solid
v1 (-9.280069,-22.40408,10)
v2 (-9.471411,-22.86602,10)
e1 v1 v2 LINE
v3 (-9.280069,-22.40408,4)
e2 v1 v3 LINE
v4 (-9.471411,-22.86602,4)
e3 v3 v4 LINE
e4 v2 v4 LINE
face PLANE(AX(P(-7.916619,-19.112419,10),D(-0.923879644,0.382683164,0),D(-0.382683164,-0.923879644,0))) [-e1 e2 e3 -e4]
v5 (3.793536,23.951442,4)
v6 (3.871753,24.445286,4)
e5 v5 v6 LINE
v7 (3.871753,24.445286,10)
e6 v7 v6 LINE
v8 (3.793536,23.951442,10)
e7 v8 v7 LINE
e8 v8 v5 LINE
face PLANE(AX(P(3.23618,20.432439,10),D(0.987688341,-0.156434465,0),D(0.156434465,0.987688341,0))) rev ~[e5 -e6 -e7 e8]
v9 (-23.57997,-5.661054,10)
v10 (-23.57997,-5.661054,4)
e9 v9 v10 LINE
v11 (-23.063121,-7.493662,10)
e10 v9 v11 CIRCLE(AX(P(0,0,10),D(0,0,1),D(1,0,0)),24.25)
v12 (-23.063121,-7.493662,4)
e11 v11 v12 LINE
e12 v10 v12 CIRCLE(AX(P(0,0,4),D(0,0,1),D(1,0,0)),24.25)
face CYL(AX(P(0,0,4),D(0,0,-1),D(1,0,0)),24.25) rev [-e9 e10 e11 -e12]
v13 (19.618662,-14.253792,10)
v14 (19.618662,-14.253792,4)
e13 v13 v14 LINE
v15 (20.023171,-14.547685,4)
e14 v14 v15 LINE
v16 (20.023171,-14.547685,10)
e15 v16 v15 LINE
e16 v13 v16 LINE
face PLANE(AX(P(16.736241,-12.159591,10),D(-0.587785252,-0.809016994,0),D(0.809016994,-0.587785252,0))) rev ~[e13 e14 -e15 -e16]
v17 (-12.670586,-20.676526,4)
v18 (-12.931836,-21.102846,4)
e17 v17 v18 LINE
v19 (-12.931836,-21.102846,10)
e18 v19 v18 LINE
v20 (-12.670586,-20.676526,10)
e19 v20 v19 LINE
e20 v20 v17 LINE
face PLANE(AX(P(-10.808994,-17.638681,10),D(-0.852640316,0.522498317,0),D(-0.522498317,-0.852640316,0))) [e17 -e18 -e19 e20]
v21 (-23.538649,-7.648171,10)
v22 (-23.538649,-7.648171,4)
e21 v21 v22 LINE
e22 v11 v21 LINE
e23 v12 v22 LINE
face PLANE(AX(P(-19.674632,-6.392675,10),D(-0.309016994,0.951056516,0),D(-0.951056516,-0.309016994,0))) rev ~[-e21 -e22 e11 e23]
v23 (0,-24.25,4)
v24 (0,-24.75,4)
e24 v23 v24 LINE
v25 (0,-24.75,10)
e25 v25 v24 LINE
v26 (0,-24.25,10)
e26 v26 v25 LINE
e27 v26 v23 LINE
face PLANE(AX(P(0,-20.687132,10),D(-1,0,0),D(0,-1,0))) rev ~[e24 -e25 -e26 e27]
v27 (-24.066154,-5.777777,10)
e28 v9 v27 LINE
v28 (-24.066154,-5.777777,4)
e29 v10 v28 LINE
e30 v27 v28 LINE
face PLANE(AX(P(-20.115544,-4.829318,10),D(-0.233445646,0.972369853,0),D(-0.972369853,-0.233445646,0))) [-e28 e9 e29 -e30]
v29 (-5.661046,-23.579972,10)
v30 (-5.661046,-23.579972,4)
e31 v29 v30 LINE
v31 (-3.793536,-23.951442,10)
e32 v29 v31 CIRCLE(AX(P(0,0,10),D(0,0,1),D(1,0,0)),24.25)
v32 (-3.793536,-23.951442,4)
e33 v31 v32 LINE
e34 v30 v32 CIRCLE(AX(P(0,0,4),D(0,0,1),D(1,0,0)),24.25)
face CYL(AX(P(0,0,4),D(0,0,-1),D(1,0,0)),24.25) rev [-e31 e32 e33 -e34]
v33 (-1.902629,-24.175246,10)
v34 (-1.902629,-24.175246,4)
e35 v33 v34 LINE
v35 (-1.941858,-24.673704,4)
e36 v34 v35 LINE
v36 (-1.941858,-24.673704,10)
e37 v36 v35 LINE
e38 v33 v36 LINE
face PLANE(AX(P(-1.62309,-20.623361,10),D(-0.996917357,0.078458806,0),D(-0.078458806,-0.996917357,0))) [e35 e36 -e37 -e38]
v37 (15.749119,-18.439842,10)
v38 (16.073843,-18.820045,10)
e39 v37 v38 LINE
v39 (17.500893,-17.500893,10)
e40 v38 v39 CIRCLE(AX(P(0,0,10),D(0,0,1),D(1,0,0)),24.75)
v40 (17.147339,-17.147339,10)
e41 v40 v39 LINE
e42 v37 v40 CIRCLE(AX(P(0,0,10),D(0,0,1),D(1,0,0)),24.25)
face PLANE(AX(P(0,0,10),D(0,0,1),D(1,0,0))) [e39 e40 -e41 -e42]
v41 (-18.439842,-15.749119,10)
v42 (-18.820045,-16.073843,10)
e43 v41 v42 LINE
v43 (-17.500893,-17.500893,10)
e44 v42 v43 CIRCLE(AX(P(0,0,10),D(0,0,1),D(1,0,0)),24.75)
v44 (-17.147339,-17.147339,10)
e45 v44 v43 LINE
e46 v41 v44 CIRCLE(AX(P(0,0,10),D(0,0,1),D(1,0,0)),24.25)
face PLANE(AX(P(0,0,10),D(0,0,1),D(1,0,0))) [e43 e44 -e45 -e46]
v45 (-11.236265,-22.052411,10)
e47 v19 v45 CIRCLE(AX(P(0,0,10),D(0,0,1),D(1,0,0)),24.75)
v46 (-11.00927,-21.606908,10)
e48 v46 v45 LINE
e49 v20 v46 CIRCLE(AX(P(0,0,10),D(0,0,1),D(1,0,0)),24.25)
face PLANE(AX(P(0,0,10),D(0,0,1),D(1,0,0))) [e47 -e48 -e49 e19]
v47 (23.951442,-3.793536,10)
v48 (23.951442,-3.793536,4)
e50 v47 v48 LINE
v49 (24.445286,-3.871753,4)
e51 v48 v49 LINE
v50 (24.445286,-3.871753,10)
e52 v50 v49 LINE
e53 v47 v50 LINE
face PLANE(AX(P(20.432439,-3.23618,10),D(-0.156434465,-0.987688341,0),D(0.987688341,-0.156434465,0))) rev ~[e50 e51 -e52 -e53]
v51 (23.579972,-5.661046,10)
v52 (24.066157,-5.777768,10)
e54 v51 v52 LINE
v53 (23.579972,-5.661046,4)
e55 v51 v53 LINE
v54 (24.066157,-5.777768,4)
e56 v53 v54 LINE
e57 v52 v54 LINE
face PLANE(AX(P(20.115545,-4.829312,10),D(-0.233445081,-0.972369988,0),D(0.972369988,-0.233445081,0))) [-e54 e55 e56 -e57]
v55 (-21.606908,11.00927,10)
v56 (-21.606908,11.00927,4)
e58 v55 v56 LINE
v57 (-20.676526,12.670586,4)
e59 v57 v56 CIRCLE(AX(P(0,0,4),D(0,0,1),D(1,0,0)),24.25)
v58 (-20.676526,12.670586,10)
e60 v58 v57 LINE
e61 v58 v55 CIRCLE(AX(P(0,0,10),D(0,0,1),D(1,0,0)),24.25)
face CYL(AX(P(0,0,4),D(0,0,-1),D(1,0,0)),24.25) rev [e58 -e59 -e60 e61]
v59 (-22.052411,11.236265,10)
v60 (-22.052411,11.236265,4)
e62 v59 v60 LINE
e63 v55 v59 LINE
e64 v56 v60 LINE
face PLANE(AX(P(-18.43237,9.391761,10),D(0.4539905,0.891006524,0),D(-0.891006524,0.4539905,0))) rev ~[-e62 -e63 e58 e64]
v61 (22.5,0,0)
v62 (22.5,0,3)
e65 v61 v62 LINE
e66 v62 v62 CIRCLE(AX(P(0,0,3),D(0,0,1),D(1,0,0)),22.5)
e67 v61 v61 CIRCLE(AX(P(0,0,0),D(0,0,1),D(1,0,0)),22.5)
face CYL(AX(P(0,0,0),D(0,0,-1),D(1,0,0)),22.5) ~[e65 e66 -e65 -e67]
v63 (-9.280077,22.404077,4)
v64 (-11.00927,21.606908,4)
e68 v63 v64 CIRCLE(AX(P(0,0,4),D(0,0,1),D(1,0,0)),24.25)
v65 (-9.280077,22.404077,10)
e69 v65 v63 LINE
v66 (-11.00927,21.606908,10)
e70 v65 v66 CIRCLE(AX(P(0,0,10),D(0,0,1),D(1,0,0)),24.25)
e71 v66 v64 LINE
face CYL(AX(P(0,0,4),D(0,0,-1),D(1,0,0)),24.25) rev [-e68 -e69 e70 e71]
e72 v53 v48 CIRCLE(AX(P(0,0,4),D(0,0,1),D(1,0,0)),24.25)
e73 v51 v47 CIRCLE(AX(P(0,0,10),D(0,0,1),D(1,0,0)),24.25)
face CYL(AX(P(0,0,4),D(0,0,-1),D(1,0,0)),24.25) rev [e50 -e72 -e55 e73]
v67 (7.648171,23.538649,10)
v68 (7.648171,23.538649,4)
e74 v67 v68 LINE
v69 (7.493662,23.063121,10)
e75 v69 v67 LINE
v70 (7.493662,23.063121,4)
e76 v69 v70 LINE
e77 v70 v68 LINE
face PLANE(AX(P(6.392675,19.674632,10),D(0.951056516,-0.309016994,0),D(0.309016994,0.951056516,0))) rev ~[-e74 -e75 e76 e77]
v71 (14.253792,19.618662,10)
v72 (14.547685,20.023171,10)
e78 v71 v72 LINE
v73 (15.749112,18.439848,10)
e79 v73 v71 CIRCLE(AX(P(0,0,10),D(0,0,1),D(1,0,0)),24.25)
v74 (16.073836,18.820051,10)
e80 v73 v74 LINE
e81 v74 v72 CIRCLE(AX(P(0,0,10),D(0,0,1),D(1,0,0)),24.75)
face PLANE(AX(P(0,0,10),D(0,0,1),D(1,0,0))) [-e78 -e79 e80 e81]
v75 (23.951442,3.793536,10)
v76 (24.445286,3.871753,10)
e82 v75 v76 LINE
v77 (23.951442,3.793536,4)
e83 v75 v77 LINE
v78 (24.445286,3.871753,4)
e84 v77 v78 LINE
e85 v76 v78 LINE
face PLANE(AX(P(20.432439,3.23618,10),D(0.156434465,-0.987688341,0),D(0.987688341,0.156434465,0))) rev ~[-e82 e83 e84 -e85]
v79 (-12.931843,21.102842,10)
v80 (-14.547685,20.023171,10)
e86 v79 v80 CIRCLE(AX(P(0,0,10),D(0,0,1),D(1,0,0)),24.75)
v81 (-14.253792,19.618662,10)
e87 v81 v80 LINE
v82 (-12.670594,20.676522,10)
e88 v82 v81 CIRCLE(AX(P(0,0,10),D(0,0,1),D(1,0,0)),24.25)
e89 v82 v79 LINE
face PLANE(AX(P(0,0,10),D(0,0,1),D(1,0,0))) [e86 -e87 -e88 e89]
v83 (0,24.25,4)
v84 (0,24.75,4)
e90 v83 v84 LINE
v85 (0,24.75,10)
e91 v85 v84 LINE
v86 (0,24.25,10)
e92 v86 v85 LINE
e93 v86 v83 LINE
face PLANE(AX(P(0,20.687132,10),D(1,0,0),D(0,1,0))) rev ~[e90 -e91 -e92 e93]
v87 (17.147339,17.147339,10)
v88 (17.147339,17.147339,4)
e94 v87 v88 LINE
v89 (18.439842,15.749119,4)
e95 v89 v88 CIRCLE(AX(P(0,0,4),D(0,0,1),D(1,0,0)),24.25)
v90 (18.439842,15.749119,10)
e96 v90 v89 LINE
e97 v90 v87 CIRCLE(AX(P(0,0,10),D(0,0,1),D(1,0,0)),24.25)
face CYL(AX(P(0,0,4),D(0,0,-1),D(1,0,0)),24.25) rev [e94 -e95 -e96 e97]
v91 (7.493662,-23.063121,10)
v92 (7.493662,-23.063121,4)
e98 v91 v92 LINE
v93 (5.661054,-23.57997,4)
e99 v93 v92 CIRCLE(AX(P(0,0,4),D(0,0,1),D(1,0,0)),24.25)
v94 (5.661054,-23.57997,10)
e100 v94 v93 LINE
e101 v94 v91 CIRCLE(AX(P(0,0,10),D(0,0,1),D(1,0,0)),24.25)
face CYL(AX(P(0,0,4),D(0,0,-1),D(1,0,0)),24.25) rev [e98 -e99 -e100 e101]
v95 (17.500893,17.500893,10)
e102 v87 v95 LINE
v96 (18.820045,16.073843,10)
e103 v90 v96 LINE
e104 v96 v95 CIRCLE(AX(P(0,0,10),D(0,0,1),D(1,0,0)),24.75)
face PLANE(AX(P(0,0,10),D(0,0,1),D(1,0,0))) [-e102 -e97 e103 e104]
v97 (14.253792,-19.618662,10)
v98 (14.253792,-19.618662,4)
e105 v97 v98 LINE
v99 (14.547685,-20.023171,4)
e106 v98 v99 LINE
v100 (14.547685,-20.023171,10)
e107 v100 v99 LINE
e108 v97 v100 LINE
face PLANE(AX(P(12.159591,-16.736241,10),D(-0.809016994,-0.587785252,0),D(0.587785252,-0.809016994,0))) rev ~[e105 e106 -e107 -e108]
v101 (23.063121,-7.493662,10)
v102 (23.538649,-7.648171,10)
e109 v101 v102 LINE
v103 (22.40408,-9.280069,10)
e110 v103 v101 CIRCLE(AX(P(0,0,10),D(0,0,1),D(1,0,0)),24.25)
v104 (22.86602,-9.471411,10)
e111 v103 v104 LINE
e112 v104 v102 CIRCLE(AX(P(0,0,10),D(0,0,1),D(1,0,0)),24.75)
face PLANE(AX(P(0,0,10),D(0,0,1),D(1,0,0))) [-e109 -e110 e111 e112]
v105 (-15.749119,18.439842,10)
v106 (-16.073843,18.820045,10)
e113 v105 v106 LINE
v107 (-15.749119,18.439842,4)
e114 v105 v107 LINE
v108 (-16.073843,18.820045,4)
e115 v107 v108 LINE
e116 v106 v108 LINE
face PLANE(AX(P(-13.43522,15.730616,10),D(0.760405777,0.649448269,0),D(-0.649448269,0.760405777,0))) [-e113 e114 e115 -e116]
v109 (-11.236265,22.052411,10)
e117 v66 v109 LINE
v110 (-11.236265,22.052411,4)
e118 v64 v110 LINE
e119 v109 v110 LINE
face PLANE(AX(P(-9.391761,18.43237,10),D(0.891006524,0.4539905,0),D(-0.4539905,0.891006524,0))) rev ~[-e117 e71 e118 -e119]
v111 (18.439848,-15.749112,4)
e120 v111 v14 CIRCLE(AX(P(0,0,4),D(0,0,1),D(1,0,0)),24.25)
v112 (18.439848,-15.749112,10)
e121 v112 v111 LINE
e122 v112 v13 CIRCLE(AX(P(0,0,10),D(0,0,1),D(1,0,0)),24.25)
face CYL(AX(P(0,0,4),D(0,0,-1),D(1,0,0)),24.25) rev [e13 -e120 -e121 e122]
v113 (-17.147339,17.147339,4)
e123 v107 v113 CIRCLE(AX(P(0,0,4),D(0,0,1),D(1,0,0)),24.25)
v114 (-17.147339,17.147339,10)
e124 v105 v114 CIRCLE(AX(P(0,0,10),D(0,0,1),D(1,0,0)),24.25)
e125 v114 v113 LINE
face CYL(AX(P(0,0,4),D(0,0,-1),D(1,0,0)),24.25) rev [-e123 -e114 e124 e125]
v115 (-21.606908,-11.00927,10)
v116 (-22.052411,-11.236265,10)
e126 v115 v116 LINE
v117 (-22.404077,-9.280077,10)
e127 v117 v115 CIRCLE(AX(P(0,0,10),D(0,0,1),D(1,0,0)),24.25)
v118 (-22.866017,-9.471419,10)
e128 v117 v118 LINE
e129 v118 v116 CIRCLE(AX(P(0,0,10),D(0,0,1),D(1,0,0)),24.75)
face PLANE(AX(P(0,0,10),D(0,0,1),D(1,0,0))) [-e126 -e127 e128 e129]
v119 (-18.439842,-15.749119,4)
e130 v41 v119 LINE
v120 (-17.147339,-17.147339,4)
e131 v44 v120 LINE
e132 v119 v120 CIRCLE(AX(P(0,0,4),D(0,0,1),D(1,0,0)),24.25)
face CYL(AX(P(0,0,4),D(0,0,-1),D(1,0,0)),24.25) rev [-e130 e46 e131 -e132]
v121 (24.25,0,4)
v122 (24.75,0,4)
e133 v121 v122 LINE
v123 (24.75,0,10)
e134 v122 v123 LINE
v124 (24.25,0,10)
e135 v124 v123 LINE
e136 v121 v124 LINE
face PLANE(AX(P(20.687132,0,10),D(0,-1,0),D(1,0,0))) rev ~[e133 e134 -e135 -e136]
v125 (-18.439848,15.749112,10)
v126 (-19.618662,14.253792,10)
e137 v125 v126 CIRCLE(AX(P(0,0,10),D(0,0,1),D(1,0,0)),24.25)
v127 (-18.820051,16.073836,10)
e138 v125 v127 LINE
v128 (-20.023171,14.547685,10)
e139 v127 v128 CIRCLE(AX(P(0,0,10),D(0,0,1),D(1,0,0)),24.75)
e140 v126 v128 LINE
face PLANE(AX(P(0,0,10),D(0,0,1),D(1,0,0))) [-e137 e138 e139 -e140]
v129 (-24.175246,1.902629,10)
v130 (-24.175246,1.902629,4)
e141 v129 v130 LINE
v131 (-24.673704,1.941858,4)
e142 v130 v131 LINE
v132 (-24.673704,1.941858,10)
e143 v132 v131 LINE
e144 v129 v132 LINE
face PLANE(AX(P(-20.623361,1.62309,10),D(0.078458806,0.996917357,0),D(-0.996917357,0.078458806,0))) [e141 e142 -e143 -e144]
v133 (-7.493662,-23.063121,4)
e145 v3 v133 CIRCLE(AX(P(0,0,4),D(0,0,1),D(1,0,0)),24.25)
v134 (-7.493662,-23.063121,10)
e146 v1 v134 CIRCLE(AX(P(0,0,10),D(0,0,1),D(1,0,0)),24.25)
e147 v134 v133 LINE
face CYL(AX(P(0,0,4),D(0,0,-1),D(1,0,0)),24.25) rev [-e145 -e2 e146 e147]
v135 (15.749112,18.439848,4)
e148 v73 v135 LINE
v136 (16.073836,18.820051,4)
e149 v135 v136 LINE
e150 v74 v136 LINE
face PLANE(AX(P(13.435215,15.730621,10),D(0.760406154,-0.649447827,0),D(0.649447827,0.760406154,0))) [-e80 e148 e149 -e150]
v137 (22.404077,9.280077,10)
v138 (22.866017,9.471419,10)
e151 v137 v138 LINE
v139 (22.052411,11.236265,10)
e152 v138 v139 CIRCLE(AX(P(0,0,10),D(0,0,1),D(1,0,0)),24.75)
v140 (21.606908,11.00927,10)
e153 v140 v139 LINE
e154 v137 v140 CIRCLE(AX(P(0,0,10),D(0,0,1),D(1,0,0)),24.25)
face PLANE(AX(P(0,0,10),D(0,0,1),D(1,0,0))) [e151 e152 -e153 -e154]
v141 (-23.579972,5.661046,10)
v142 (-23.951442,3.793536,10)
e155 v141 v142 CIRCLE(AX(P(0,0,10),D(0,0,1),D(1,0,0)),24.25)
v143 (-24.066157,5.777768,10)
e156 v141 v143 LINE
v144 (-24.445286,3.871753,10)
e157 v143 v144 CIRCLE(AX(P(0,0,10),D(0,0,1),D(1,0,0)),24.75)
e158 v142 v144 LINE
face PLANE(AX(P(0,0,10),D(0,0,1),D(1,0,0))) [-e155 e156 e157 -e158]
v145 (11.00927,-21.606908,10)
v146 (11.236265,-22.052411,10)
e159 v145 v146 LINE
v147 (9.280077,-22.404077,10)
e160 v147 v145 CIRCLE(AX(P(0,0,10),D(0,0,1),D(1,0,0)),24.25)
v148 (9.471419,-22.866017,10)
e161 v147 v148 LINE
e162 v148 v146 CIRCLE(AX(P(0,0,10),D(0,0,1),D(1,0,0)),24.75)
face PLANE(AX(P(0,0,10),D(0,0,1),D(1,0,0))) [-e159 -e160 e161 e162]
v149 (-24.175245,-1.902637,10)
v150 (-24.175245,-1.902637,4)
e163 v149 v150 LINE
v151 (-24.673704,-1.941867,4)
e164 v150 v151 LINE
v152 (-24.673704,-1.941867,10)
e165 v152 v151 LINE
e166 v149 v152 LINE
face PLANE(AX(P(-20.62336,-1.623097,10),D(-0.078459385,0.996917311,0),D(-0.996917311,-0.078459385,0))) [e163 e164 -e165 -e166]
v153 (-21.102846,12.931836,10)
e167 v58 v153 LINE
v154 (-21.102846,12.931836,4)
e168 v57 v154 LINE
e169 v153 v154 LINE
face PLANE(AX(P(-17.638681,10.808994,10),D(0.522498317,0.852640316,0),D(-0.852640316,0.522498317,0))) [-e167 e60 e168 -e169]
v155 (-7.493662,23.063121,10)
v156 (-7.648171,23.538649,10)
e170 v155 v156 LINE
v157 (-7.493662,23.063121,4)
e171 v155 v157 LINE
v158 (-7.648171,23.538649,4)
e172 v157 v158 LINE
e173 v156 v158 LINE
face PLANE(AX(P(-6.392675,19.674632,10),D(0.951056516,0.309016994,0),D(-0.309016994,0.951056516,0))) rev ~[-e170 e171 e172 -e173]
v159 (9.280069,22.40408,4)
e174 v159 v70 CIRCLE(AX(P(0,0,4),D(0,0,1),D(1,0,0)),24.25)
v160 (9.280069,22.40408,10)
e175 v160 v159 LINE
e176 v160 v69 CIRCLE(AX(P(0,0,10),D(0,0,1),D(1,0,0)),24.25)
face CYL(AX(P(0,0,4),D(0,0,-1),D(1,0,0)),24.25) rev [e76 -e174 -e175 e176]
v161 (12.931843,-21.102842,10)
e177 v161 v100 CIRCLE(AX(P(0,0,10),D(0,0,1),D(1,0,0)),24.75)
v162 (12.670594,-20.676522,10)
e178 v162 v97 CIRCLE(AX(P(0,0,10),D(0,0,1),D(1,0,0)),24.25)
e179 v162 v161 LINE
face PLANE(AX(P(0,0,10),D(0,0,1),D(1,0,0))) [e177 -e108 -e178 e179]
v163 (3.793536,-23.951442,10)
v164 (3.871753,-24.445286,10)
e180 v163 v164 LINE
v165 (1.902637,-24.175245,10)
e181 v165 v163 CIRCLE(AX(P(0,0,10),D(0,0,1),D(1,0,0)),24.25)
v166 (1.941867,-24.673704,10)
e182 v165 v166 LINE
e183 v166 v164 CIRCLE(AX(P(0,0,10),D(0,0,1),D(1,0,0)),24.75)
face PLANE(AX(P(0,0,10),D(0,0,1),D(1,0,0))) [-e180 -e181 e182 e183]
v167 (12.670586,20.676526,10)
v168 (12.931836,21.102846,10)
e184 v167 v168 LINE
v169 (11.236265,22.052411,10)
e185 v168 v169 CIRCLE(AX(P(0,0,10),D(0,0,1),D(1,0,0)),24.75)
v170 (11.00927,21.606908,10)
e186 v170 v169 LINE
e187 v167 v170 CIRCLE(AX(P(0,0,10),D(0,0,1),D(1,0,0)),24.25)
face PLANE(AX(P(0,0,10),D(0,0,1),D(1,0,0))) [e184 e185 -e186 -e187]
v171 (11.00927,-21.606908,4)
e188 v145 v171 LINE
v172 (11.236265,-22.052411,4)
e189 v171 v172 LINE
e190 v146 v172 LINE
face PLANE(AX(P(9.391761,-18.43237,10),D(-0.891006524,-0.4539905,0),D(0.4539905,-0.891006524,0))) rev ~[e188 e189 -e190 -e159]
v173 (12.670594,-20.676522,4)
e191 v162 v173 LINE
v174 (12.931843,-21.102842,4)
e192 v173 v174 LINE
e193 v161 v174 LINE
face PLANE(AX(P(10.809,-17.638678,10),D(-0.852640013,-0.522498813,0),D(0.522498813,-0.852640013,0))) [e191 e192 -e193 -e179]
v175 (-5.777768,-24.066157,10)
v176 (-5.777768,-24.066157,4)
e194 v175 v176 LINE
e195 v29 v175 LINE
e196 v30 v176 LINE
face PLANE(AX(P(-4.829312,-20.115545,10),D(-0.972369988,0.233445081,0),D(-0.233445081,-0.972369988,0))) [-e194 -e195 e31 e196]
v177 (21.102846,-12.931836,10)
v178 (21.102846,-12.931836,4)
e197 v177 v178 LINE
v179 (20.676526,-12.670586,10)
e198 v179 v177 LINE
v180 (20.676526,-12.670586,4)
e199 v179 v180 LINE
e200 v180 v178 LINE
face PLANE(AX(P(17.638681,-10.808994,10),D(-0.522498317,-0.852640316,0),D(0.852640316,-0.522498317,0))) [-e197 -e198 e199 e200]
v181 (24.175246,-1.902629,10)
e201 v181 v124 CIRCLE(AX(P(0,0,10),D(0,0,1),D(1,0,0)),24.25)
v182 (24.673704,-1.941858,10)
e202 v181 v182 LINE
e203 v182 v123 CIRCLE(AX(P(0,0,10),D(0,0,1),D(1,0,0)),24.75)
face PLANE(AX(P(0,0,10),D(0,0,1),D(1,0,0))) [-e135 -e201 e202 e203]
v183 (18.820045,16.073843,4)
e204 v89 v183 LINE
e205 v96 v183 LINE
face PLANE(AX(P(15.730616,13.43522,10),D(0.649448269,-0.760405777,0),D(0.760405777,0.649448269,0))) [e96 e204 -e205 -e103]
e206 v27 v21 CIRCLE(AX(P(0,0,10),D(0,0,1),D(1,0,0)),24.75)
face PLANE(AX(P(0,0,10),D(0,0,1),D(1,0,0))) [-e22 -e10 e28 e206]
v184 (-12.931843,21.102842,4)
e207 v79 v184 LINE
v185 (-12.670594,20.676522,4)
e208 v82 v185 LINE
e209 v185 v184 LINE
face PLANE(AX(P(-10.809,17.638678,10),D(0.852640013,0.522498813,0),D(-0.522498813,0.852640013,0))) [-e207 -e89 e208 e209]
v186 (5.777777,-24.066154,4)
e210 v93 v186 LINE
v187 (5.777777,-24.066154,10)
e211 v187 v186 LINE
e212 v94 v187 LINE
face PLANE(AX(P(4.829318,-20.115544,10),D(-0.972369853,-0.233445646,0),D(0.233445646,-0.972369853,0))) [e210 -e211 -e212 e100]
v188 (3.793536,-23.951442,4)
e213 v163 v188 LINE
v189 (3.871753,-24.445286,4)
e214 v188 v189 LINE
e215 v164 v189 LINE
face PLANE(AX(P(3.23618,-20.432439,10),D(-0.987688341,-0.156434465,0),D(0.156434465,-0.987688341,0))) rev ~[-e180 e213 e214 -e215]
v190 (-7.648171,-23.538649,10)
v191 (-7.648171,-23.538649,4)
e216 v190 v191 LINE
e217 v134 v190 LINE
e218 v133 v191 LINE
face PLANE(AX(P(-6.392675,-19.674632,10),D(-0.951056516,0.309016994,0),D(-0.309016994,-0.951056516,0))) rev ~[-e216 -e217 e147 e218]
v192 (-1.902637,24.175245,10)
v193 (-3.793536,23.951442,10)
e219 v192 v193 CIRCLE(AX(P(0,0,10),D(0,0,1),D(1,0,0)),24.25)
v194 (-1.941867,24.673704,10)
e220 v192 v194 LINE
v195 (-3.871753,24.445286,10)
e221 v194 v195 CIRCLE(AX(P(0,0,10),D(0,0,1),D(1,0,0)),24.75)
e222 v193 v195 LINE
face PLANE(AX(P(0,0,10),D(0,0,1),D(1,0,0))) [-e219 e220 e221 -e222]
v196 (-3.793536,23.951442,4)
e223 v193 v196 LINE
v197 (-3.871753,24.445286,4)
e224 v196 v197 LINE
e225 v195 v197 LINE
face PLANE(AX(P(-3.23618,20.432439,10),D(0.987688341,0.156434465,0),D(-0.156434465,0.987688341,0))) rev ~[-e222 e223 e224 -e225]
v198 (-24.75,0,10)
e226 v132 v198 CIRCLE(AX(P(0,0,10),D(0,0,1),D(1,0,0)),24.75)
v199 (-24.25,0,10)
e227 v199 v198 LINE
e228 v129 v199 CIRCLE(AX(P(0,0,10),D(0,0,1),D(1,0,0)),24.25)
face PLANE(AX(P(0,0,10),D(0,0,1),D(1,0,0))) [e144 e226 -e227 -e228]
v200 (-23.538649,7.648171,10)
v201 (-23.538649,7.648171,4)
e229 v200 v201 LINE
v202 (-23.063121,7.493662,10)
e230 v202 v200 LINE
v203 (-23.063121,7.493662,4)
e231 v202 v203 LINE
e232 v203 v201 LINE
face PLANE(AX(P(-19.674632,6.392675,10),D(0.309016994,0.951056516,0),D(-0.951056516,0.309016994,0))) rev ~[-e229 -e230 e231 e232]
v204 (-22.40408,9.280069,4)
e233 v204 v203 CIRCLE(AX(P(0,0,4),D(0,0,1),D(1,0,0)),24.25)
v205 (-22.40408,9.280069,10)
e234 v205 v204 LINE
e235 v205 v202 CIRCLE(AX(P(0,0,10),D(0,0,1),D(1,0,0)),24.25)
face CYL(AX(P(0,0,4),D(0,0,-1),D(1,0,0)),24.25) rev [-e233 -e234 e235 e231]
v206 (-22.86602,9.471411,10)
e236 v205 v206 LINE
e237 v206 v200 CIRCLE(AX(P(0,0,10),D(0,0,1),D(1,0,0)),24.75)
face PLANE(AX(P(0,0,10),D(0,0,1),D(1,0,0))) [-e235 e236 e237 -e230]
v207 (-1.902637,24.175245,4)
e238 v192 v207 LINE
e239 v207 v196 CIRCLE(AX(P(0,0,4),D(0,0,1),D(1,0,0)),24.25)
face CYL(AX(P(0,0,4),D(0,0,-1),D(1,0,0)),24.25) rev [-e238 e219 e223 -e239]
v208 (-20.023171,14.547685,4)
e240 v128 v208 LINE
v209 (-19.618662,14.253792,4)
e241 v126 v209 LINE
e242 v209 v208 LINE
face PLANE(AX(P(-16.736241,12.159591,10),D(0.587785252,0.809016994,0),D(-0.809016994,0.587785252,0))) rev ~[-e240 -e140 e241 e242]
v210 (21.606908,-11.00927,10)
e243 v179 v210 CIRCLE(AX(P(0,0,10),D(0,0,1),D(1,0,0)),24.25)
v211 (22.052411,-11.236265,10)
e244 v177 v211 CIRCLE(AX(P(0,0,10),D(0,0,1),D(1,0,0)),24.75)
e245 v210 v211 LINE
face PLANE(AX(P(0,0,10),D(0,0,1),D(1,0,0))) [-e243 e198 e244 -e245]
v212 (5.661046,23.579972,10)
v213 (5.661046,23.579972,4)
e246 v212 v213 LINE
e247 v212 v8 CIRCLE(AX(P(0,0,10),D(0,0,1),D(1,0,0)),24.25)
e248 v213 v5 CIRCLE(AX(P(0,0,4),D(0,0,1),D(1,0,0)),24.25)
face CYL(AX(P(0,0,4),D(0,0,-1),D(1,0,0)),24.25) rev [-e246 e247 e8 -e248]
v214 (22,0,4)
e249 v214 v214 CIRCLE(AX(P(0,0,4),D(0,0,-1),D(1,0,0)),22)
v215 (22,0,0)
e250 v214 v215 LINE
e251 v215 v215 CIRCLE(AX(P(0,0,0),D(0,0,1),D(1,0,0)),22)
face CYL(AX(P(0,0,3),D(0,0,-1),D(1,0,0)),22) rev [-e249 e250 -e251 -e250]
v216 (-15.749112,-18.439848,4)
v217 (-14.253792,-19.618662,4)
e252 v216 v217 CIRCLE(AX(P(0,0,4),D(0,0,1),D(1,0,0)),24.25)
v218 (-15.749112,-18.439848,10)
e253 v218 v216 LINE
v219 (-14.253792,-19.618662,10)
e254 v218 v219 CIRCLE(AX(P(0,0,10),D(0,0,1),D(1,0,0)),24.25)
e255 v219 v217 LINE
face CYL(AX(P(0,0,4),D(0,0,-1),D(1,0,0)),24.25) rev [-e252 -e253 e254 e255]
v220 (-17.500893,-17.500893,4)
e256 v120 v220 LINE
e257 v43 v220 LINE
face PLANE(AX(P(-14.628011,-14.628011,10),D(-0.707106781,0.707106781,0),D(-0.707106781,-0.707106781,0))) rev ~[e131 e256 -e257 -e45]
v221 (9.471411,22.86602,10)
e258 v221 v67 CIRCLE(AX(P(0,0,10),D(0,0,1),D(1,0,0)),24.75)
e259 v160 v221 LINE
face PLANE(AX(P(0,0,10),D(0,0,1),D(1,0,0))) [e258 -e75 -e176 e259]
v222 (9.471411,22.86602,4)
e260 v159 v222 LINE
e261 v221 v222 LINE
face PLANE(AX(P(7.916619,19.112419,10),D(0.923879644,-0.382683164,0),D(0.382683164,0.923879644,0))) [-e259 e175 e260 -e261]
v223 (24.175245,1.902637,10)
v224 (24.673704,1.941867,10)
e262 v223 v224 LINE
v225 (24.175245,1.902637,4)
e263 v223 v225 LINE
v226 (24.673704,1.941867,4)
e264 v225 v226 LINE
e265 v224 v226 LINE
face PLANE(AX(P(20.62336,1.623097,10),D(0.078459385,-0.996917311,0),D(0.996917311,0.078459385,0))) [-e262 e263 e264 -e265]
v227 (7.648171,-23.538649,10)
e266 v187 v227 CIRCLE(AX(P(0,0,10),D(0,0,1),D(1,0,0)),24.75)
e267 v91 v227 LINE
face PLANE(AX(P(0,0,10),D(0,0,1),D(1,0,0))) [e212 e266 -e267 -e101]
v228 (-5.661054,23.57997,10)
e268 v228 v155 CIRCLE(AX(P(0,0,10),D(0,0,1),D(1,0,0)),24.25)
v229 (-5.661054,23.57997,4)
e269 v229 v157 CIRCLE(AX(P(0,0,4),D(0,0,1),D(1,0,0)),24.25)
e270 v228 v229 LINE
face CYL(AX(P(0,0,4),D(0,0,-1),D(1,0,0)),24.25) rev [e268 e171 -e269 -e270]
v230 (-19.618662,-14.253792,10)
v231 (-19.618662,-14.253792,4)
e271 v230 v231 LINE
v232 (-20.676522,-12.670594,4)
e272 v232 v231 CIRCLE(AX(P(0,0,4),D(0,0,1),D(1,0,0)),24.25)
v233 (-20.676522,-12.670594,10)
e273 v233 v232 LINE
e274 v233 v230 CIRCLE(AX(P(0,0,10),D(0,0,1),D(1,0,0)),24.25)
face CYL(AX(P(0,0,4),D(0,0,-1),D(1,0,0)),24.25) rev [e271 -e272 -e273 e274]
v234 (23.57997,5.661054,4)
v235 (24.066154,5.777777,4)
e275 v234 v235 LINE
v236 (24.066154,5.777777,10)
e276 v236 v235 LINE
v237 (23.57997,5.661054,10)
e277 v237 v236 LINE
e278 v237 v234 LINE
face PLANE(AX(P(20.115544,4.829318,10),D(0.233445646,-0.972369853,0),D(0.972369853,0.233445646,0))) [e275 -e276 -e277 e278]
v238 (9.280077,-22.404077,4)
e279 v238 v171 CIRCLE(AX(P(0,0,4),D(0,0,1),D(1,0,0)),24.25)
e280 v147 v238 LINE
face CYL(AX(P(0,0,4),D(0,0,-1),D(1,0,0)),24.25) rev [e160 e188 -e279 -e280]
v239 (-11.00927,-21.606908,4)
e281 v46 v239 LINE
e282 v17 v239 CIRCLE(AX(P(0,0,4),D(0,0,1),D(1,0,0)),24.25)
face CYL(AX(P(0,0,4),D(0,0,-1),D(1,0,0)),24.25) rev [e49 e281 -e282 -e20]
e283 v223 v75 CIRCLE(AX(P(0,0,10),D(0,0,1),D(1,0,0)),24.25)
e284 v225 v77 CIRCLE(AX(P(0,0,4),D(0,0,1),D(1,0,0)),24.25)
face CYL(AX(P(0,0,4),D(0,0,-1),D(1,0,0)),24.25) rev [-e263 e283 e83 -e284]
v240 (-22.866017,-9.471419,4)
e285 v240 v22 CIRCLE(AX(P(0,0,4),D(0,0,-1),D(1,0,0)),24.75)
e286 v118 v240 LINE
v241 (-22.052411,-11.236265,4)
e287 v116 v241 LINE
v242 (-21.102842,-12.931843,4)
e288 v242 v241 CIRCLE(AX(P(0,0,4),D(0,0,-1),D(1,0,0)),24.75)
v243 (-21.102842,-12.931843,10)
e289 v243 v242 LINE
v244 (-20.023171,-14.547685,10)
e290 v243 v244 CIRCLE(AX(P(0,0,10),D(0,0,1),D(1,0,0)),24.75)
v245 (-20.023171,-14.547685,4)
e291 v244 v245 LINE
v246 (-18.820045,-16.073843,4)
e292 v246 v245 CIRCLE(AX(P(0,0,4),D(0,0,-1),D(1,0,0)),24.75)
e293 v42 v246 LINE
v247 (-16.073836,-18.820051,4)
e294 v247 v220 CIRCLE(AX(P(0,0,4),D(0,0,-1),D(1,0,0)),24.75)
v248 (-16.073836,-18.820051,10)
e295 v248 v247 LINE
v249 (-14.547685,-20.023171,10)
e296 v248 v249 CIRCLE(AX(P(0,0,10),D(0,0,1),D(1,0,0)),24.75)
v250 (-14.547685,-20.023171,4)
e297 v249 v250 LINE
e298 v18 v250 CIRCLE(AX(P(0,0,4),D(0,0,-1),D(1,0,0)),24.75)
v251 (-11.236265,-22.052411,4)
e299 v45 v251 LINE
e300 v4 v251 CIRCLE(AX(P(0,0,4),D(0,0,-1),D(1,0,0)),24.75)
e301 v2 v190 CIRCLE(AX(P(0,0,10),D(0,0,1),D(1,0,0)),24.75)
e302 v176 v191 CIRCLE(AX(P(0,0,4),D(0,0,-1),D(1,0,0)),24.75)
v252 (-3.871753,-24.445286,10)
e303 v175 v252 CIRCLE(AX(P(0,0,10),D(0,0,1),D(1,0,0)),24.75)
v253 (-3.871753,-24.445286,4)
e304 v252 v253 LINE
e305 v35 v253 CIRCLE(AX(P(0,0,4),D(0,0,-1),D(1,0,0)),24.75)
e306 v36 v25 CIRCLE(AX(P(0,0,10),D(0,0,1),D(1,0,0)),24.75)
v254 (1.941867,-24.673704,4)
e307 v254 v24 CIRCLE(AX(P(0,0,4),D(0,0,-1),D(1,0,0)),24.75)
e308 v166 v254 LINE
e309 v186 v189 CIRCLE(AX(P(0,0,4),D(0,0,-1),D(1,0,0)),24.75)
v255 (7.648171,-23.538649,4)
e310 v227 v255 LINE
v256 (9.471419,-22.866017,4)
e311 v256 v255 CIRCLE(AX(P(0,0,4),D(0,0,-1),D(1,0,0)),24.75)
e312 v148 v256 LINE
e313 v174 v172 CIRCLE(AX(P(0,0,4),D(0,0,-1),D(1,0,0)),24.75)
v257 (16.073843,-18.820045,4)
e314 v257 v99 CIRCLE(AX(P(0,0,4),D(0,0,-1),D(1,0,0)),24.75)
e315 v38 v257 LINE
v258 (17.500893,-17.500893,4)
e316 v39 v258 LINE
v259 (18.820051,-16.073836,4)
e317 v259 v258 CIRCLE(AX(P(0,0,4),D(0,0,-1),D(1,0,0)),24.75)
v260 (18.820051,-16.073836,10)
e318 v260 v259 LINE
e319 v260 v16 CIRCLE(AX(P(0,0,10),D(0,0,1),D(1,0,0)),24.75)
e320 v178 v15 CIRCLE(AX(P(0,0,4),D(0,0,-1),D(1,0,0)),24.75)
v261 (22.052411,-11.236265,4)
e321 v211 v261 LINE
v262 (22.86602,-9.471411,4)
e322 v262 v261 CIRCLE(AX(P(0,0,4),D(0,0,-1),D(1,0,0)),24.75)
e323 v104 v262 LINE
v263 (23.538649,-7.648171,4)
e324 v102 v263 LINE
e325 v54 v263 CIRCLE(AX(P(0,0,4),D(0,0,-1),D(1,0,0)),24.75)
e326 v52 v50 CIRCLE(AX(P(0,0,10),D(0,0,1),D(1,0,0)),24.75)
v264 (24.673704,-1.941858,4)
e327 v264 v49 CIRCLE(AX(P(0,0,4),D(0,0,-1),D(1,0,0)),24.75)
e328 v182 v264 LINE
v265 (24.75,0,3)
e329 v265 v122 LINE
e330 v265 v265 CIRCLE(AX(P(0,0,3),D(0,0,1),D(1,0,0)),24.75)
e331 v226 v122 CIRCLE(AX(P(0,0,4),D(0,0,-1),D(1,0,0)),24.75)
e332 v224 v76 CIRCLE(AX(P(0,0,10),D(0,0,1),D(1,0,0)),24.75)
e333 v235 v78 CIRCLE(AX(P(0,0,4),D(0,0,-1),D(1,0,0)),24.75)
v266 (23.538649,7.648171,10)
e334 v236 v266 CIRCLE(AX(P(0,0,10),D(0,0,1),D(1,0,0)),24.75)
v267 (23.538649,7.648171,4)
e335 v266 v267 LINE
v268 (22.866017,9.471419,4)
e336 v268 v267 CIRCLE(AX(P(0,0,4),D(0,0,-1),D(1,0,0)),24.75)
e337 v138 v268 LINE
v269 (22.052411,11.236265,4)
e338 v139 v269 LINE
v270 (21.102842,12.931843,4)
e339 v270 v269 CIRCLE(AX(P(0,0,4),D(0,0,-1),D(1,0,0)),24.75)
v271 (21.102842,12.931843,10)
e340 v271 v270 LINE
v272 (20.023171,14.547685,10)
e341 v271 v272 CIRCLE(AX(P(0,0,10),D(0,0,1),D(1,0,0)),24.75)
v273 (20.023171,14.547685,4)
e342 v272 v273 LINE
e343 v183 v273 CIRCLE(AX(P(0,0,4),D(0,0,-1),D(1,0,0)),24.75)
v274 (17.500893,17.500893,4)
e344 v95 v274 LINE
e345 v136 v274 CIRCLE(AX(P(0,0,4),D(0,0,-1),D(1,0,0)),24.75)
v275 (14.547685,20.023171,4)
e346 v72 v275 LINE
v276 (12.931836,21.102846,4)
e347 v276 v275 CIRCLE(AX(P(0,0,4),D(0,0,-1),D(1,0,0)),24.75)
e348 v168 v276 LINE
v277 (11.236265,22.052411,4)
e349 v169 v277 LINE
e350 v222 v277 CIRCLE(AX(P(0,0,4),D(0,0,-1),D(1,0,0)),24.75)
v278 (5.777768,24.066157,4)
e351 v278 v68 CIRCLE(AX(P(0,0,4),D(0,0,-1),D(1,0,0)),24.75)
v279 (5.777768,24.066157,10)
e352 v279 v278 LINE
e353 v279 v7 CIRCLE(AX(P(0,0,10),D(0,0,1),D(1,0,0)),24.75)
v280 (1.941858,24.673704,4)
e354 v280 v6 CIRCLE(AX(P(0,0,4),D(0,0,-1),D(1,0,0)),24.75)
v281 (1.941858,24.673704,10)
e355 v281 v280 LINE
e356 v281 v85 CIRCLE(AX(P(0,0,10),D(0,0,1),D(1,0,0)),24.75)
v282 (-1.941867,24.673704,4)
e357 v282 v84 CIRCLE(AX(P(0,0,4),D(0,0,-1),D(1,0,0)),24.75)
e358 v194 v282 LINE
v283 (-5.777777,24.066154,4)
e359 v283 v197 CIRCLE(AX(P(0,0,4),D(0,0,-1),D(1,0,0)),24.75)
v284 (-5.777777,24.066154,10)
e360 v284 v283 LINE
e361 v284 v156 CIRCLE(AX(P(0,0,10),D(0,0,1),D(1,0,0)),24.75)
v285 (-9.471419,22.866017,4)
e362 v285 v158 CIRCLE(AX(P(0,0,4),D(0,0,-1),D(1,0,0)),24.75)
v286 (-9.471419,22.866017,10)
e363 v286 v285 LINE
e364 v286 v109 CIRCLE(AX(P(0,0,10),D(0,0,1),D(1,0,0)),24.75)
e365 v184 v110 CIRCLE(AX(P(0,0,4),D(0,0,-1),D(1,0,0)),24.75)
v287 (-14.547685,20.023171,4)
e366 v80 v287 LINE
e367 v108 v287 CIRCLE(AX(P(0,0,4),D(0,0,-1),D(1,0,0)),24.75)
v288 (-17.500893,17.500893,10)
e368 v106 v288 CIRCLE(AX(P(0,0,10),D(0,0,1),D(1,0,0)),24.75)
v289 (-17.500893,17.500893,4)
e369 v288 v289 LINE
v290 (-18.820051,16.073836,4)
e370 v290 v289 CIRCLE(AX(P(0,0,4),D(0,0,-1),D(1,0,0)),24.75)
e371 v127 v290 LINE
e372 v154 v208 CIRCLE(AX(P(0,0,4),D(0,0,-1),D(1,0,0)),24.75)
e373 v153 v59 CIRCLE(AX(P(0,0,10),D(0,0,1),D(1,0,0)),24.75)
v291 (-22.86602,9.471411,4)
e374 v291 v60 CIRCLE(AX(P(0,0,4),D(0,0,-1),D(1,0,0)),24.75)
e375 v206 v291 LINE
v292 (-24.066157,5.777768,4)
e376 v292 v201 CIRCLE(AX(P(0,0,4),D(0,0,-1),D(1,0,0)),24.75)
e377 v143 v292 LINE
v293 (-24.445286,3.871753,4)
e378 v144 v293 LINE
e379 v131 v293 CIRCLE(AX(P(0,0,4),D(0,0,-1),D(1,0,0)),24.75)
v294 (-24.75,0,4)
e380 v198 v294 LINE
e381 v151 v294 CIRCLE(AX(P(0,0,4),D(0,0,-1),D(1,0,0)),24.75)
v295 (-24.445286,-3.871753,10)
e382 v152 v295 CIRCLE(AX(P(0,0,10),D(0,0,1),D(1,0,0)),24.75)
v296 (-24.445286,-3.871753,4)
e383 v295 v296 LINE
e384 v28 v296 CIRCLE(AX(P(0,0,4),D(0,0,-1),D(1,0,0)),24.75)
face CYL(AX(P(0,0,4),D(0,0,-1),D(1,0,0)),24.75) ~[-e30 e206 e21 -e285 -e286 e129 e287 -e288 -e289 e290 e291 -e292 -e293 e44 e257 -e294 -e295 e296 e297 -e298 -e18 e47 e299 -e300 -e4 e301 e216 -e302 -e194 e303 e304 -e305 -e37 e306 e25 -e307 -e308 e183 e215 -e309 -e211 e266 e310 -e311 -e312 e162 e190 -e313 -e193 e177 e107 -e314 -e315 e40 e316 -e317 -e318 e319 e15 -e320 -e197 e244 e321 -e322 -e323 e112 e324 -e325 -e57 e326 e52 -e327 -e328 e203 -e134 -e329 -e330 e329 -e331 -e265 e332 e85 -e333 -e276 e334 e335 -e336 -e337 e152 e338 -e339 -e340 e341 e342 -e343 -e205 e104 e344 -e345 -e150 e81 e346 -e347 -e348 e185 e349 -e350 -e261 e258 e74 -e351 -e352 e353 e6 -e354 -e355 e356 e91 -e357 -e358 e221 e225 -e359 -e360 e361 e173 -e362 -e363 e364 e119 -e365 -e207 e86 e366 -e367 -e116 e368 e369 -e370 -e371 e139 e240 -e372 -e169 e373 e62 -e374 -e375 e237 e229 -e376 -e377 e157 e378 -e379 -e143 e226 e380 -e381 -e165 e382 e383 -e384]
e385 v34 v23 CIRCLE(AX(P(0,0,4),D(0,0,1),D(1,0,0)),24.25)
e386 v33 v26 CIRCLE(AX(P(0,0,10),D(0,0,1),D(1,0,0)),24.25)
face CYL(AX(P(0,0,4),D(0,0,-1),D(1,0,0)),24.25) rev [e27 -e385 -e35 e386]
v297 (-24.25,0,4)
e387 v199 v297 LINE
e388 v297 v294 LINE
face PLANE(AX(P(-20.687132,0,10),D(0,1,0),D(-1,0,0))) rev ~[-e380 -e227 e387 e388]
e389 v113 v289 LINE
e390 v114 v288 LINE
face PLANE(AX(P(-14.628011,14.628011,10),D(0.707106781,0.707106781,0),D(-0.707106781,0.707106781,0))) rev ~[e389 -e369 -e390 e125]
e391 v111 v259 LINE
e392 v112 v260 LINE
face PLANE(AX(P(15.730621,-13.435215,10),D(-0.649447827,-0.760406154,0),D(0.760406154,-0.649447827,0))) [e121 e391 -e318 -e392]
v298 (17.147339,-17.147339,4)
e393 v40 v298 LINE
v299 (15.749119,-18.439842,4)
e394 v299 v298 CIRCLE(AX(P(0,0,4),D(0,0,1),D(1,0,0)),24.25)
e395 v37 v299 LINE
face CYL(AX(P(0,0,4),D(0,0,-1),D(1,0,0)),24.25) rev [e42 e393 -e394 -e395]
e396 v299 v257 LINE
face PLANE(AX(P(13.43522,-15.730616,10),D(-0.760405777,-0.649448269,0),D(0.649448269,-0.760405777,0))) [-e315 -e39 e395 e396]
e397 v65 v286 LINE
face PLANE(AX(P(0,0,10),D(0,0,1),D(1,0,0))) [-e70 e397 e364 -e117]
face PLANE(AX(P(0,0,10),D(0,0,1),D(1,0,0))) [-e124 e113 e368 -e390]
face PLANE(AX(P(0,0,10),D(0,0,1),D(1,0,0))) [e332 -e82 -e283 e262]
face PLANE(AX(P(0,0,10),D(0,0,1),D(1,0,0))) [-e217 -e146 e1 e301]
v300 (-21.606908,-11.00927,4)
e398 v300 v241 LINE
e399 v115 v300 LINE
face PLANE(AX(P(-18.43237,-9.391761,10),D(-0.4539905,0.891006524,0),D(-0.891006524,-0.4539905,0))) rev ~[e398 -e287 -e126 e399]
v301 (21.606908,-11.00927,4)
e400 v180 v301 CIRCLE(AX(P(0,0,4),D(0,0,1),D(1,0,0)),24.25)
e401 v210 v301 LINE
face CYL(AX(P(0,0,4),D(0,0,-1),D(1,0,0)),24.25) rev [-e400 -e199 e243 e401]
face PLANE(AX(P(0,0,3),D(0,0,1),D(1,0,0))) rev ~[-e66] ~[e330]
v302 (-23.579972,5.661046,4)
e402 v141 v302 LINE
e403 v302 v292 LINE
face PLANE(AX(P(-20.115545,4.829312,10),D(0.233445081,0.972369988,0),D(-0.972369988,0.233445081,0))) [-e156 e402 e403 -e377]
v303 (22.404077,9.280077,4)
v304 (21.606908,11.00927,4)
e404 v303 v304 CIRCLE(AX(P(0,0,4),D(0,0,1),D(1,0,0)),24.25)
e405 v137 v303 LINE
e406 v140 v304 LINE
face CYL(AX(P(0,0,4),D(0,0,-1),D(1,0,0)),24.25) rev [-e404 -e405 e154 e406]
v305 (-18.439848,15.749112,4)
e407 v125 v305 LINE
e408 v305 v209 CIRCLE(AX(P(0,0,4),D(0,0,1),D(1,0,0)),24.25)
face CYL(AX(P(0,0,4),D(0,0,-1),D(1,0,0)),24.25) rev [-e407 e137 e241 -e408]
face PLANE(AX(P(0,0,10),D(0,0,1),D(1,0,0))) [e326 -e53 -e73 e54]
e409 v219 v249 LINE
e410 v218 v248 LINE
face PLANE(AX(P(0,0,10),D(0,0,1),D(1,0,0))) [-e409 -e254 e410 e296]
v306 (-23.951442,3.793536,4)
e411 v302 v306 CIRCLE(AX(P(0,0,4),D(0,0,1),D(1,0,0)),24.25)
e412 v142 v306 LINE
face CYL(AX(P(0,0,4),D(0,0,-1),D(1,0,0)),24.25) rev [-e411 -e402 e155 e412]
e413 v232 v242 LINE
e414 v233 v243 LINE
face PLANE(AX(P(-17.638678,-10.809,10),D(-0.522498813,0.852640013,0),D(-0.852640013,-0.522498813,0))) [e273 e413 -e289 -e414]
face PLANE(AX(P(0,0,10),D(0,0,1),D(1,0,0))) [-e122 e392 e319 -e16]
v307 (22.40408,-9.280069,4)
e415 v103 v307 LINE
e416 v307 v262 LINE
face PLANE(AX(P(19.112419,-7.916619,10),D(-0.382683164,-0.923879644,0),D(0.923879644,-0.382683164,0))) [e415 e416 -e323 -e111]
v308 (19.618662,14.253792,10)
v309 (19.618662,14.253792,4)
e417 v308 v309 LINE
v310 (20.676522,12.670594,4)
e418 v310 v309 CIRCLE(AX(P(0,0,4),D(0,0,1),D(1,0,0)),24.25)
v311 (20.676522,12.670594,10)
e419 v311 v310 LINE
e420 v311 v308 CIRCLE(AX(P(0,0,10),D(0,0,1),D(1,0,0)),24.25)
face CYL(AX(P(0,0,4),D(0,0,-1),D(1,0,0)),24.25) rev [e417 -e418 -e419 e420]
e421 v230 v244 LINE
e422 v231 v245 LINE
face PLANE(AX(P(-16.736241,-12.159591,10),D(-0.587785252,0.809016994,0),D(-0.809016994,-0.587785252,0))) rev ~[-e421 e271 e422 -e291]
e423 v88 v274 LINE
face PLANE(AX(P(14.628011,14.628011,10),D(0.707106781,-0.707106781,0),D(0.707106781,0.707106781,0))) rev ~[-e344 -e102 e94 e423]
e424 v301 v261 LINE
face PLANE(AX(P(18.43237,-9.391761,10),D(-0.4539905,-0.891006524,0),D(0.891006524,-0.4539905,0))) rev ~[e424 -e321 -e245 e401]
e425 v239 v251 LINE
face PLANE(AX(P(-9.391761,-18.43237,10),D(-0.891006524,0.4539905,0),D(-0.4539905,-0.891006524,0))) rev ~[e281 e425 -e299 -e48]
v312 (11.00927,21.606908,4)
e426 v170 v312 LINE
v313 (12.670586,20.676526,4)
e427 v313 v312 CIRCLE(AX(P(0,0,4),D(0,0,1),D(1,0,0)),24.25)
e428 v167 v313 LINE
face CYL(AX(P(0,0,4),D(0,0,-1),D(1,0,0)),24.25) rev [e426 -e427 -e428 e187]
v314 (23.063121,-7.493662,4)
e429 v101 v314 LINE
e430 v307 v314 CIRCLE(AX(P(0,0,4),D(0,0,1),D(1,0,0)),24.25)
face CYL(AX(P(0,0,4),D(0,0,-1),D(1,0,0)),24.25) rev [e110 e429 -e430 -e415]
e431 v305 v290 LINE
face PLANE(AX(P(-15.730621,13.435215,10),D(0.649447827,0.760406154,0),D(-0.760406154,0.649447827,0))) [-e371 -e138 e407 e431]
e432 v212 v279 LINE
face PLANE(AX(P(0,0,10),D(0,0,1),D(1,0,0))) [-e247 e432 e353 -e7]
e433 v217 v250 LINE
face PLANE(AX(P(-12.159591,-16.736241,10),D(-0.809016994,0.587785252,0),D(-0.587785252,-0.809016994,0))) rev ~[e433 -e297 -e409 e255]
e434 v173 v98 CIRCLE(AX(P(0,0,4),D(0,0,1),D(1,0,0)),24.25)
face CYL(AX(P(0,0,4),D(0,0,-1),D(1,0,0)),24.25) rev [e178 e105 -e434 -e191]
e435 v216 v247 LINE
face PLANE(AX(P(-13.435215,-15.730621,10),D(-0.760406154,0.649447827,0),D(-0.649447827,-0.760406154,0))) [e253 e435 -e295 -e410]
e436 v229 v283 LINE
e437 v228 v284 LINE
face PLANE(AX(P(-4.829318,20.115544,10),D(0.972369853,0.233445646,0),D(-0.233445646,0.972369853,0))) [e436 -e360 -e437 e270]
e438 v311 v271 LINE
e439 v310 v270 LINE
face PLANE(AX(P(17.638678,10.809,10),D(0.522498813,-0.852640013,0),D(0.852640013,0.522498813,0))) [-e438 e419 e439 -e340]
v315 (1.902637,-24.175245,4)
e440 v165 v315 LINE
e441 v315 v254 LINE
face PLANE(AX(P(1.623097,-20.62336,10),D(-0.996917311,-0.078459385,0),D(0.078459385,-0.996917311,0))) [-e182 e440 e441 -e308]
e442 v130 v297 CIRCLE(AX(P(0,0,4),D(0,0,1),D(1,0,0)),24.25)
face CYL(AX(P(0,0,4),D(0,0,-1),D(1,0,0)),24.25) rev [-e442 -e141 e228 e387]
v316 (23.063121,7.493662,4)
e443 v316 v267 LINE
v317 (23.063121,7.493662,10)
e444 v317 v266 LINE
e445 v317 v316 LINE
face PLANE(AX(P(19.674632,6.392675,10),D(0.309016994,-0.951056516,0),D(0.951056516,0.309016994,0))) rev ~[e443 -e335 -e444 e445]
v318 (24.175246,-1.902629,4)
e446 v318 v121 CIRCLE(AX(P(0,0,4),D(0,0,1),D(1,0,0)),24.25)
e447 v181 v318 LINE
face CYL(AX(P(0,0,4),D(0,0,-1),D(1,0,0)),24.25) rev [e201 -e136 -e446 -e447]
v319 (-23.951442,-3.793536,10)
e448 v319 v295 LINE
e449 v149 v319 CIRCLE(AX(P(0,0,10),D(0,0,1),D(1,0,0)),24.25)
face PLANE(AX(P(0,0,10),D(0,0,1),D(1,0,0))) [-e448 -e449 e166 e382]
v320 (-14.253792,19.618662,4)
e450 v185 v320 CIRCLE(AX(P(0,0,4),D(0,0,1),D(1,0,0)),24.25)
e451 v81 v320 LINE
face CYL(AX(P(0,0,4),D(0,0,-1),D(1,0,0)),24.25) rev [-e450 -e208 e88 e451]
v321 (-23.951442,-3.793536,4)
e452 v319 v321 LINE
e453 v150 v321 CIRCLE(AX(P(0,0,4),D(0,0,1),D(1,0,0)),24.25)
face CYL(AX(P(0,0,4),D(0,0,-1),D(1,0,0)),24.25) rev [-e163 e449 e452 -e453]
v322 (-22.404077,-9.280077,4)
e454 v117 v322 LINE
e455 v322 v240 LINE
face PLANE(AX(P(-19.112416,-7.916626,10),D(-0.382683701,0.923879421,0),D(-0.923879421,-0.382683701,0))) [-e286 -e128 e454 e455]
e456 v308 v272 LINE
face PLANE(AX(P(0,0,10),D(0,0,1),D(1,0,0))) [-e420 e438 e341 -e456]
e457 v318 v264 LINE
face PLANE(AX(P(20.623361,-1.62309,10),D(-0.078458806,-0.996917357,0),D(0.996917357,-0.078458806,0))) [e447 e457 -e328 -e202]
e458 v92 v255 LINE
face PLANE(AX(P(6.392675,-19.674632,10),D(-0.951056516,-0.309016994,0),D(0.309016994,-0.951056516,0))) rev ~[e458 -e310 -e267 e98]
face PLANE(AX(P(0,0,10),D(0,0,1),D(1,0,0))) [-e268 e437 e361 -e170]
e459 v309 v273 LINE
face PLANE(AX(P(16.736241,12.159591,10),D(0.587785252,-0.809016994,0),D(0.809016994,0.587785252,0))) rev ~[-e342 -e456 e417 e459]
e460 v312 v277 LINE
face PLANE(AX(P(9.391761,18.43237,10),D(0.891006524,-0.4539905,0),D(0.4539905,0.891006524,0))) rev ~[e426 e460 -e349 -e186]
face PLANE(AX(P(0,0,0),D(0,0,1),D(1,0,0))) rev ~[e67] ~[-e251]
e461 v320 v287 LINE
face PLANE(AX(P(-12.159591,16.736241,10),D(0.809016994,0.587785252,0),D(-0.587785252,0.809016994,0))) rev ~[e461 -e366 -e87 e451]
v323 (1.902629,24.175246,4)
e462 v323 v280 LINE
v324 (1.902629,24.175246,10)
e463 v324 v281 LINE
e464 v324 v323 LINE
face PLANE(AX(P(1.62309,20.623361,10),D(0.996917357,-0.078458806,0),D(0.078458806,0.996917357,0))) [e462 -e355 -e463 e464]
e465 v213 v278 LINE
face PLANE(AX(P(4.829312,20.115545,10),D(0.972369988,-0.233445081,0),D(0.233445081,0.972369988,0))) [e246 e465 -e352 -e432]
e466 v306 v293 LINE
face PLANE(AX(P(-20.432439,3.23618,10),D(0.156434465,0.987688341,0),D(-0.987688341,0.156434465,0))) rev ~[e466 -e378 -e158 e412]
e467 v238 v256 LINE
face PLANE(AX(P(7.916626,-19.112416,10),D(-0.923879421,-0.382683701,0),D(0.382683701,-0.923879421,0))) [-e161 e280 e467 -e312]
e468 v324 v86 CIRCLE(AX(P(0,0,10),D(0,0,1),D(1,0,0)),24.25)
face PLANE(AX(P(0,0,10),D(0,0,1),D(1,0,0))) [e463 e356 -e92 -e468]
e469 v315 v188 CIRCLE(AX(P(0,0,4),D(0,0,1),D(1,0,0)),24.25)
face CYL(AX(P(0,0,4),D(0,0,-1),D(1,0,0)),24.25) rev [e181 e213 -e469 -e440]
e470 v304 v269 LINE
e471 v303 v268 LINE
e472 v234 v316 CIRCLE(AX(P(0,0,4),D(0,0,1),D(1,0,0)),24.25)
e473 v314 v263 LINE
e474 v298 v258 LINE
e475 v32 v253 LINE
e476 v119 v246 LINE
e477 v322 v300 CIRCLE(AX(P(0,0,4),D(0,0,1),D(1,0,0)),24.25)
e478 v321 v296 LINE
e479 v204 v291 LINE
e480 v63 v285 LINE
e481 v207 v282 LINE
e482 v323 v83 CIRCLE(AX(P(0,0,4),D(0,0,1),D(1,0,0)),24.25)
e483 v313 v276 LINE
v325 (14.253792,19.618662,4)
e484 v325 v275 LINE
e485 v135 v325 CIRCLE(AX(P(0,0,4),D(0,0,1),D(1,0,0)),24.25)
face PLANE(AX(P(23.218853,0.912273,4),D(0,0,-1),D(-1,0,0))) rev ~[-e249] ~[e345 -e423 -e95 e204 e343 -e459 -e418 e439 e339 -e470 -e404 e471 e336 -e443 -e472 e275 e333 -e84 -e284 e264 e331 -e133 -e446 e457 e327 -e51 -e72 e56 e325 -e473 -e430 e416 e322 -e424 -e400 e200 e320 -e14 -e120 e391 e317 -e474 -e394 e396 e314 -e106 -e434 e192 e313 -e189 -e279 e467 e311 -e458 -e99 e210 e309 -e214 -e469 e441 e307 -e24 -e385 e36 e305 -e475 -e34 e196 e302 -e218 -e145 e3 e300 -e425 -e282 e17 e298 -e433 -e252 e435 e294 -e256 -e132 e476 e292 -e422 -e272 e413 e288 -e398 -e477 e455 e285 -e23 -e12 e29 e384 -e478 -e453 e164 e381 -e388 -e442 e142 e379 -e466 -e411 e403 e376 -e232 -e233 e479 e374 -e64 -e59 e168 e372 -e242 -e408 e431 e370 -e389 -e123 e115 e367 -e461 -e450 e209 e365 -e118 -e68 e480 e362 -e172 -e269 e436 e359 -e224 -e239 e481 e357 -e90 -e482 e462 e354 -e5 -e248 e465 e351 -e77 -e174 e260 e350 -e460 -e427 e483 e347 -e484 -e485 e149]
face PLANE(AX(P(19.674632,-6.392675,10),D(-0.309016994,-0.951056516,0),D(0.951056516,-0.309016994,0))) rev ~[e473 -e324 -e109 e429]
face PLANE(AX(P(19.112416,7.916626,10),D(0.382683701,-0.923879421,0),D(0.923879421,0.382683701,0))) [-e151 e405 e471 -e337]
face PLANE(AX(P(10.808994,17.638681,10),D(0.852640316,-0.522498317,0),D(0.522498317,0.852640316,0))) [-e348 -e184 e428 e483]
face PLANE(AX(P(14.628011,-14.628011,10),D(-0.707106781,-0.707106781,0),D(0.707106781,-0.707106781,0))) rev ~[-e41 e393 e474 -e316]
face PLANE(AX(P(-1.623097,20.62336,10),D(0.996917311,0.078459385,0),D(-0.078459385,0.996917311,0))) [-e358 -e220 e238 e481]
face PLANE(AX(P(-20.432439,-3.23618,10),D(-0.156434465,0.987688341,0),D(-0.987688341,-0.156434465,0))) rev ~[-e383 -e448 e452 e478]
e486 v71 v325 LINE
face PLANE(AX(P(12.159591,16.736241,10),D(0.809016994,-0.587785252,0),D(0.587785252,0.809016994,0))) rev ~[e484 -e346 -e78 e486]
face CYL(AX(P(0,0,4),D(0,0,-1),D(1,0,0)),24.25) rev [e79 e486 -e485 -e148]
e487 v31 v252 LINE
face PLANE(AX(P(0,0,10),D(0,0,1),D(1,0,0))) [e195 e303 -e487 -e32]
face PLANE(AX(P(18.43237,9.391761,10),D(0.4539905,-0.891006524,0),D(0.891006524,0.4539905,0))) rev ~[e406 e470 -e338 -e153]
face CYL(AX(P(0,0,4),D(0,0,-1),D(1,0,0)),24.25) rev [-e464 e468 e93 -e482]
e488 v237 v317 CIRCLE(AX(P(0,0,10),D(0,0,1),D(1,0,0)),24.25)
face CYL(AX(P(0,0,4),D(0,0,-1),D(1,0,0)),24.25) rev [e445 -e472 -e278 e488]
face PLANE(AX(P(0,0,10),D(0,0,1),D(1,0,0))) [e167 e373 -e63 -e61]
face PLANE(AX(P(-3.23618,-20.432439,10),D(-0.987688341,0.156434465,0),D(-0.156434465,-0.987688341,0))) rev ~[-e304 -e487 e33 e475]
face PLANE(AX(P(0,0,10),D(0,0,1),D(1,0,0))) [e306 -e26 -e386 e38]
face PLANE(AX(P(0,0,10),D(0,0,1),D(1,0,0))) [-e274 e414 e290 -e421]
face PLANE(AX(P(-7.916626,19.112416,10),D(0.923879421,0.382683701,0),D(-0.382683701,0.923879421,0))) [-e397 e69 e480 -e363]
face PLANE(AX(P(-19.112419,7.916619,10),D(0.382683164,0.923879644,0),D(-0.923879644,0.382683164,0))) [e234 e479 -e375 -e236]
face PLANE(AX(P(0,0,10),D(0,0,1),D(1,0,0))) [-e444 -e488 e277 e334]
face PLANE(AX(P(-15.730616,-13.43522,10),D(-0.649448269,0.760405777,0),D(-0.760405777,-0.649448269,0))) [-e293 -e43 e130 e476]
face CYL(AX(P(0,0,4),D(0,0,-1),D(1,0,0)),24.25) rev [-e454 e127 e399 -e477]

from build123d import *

# Parameters (mm, degrees)
SKETCH_R           = 22.5
SKETCH_R_2         = 22
PAD_DEPTH          = 3
SKETCH001_R        = 24.75
SKETCH001_R_2      = 22
PAD001_DEPTH       = 1
SKETCH002_R        = 24.75
SKETCH002_R_2      = 24.25
PAD002_DEPTH       = 6
POCKET_DEPTH       = 6
POLARPATTERN_COUNT = 40


with BuildPart() as part:
    # Sketch → Pad (new body)
    with BuildSketch(Plane.XY):
        Circle(SKETCH_R)
        Circle(SKETCH_R_2, mode=Mode.SUBTRACT)
    extrude(amount=PAD_DEPTH)

    # Sketch001 (on Face4 of Pad) → Pad001 (join)
    with BuildSketch(Plane.XY.offset(3)):
        Circle(SKETCH001_R)
        Circle(SKETCH001_R_2, mode=Mode.SUBTRACT)
    extrude(amount=PAD001_DEPTH)

    # Sketch002 (on Face5 of Pad001) → Pad002 (join)
    with BuildSketch(Plane.XY.offset(4)):
        Circle(SKETCH002_R)
        Circle(SKETCH002_R_2, mode=Mode.SUBTRACT)
    extrude(amount=PAD002_DEPTH)

    # Sketch003 (on Face7 of Pad002) → Pocket (cut)
    with BuildSketch(Plane.XY.offset(10)):
        with BuildLine():
            ThreePointArc((20.687132, 0), (20.671183, 0.812175), (20.62336, 1.623097))
            Line((20.62336, 1.623097), (25.593958, 2.014293))
            ThreePointArc((25.6731, 0), (25.653307, 1.007924), (25.593958, 2.014293))
            Line((20.687132, 0), (25.6731, 0))
        make_face()
    pocket = extrude(amount=-POCKET_DEPTH, mode=Mode.SUBTRACT)

    # PolarPattern: Pocket ×40 about axis
    polarpattern_axis = Axis((0, 0, 10), (0, 0, 1))
    for i in range(1, POLARPATTERN_COUNT):
        add(pocket.rotate(polarpattern_axis, i * 360 / POLARPATTERN_COUNT), mode=Mode.SUBTRACT)


solid = part.part
